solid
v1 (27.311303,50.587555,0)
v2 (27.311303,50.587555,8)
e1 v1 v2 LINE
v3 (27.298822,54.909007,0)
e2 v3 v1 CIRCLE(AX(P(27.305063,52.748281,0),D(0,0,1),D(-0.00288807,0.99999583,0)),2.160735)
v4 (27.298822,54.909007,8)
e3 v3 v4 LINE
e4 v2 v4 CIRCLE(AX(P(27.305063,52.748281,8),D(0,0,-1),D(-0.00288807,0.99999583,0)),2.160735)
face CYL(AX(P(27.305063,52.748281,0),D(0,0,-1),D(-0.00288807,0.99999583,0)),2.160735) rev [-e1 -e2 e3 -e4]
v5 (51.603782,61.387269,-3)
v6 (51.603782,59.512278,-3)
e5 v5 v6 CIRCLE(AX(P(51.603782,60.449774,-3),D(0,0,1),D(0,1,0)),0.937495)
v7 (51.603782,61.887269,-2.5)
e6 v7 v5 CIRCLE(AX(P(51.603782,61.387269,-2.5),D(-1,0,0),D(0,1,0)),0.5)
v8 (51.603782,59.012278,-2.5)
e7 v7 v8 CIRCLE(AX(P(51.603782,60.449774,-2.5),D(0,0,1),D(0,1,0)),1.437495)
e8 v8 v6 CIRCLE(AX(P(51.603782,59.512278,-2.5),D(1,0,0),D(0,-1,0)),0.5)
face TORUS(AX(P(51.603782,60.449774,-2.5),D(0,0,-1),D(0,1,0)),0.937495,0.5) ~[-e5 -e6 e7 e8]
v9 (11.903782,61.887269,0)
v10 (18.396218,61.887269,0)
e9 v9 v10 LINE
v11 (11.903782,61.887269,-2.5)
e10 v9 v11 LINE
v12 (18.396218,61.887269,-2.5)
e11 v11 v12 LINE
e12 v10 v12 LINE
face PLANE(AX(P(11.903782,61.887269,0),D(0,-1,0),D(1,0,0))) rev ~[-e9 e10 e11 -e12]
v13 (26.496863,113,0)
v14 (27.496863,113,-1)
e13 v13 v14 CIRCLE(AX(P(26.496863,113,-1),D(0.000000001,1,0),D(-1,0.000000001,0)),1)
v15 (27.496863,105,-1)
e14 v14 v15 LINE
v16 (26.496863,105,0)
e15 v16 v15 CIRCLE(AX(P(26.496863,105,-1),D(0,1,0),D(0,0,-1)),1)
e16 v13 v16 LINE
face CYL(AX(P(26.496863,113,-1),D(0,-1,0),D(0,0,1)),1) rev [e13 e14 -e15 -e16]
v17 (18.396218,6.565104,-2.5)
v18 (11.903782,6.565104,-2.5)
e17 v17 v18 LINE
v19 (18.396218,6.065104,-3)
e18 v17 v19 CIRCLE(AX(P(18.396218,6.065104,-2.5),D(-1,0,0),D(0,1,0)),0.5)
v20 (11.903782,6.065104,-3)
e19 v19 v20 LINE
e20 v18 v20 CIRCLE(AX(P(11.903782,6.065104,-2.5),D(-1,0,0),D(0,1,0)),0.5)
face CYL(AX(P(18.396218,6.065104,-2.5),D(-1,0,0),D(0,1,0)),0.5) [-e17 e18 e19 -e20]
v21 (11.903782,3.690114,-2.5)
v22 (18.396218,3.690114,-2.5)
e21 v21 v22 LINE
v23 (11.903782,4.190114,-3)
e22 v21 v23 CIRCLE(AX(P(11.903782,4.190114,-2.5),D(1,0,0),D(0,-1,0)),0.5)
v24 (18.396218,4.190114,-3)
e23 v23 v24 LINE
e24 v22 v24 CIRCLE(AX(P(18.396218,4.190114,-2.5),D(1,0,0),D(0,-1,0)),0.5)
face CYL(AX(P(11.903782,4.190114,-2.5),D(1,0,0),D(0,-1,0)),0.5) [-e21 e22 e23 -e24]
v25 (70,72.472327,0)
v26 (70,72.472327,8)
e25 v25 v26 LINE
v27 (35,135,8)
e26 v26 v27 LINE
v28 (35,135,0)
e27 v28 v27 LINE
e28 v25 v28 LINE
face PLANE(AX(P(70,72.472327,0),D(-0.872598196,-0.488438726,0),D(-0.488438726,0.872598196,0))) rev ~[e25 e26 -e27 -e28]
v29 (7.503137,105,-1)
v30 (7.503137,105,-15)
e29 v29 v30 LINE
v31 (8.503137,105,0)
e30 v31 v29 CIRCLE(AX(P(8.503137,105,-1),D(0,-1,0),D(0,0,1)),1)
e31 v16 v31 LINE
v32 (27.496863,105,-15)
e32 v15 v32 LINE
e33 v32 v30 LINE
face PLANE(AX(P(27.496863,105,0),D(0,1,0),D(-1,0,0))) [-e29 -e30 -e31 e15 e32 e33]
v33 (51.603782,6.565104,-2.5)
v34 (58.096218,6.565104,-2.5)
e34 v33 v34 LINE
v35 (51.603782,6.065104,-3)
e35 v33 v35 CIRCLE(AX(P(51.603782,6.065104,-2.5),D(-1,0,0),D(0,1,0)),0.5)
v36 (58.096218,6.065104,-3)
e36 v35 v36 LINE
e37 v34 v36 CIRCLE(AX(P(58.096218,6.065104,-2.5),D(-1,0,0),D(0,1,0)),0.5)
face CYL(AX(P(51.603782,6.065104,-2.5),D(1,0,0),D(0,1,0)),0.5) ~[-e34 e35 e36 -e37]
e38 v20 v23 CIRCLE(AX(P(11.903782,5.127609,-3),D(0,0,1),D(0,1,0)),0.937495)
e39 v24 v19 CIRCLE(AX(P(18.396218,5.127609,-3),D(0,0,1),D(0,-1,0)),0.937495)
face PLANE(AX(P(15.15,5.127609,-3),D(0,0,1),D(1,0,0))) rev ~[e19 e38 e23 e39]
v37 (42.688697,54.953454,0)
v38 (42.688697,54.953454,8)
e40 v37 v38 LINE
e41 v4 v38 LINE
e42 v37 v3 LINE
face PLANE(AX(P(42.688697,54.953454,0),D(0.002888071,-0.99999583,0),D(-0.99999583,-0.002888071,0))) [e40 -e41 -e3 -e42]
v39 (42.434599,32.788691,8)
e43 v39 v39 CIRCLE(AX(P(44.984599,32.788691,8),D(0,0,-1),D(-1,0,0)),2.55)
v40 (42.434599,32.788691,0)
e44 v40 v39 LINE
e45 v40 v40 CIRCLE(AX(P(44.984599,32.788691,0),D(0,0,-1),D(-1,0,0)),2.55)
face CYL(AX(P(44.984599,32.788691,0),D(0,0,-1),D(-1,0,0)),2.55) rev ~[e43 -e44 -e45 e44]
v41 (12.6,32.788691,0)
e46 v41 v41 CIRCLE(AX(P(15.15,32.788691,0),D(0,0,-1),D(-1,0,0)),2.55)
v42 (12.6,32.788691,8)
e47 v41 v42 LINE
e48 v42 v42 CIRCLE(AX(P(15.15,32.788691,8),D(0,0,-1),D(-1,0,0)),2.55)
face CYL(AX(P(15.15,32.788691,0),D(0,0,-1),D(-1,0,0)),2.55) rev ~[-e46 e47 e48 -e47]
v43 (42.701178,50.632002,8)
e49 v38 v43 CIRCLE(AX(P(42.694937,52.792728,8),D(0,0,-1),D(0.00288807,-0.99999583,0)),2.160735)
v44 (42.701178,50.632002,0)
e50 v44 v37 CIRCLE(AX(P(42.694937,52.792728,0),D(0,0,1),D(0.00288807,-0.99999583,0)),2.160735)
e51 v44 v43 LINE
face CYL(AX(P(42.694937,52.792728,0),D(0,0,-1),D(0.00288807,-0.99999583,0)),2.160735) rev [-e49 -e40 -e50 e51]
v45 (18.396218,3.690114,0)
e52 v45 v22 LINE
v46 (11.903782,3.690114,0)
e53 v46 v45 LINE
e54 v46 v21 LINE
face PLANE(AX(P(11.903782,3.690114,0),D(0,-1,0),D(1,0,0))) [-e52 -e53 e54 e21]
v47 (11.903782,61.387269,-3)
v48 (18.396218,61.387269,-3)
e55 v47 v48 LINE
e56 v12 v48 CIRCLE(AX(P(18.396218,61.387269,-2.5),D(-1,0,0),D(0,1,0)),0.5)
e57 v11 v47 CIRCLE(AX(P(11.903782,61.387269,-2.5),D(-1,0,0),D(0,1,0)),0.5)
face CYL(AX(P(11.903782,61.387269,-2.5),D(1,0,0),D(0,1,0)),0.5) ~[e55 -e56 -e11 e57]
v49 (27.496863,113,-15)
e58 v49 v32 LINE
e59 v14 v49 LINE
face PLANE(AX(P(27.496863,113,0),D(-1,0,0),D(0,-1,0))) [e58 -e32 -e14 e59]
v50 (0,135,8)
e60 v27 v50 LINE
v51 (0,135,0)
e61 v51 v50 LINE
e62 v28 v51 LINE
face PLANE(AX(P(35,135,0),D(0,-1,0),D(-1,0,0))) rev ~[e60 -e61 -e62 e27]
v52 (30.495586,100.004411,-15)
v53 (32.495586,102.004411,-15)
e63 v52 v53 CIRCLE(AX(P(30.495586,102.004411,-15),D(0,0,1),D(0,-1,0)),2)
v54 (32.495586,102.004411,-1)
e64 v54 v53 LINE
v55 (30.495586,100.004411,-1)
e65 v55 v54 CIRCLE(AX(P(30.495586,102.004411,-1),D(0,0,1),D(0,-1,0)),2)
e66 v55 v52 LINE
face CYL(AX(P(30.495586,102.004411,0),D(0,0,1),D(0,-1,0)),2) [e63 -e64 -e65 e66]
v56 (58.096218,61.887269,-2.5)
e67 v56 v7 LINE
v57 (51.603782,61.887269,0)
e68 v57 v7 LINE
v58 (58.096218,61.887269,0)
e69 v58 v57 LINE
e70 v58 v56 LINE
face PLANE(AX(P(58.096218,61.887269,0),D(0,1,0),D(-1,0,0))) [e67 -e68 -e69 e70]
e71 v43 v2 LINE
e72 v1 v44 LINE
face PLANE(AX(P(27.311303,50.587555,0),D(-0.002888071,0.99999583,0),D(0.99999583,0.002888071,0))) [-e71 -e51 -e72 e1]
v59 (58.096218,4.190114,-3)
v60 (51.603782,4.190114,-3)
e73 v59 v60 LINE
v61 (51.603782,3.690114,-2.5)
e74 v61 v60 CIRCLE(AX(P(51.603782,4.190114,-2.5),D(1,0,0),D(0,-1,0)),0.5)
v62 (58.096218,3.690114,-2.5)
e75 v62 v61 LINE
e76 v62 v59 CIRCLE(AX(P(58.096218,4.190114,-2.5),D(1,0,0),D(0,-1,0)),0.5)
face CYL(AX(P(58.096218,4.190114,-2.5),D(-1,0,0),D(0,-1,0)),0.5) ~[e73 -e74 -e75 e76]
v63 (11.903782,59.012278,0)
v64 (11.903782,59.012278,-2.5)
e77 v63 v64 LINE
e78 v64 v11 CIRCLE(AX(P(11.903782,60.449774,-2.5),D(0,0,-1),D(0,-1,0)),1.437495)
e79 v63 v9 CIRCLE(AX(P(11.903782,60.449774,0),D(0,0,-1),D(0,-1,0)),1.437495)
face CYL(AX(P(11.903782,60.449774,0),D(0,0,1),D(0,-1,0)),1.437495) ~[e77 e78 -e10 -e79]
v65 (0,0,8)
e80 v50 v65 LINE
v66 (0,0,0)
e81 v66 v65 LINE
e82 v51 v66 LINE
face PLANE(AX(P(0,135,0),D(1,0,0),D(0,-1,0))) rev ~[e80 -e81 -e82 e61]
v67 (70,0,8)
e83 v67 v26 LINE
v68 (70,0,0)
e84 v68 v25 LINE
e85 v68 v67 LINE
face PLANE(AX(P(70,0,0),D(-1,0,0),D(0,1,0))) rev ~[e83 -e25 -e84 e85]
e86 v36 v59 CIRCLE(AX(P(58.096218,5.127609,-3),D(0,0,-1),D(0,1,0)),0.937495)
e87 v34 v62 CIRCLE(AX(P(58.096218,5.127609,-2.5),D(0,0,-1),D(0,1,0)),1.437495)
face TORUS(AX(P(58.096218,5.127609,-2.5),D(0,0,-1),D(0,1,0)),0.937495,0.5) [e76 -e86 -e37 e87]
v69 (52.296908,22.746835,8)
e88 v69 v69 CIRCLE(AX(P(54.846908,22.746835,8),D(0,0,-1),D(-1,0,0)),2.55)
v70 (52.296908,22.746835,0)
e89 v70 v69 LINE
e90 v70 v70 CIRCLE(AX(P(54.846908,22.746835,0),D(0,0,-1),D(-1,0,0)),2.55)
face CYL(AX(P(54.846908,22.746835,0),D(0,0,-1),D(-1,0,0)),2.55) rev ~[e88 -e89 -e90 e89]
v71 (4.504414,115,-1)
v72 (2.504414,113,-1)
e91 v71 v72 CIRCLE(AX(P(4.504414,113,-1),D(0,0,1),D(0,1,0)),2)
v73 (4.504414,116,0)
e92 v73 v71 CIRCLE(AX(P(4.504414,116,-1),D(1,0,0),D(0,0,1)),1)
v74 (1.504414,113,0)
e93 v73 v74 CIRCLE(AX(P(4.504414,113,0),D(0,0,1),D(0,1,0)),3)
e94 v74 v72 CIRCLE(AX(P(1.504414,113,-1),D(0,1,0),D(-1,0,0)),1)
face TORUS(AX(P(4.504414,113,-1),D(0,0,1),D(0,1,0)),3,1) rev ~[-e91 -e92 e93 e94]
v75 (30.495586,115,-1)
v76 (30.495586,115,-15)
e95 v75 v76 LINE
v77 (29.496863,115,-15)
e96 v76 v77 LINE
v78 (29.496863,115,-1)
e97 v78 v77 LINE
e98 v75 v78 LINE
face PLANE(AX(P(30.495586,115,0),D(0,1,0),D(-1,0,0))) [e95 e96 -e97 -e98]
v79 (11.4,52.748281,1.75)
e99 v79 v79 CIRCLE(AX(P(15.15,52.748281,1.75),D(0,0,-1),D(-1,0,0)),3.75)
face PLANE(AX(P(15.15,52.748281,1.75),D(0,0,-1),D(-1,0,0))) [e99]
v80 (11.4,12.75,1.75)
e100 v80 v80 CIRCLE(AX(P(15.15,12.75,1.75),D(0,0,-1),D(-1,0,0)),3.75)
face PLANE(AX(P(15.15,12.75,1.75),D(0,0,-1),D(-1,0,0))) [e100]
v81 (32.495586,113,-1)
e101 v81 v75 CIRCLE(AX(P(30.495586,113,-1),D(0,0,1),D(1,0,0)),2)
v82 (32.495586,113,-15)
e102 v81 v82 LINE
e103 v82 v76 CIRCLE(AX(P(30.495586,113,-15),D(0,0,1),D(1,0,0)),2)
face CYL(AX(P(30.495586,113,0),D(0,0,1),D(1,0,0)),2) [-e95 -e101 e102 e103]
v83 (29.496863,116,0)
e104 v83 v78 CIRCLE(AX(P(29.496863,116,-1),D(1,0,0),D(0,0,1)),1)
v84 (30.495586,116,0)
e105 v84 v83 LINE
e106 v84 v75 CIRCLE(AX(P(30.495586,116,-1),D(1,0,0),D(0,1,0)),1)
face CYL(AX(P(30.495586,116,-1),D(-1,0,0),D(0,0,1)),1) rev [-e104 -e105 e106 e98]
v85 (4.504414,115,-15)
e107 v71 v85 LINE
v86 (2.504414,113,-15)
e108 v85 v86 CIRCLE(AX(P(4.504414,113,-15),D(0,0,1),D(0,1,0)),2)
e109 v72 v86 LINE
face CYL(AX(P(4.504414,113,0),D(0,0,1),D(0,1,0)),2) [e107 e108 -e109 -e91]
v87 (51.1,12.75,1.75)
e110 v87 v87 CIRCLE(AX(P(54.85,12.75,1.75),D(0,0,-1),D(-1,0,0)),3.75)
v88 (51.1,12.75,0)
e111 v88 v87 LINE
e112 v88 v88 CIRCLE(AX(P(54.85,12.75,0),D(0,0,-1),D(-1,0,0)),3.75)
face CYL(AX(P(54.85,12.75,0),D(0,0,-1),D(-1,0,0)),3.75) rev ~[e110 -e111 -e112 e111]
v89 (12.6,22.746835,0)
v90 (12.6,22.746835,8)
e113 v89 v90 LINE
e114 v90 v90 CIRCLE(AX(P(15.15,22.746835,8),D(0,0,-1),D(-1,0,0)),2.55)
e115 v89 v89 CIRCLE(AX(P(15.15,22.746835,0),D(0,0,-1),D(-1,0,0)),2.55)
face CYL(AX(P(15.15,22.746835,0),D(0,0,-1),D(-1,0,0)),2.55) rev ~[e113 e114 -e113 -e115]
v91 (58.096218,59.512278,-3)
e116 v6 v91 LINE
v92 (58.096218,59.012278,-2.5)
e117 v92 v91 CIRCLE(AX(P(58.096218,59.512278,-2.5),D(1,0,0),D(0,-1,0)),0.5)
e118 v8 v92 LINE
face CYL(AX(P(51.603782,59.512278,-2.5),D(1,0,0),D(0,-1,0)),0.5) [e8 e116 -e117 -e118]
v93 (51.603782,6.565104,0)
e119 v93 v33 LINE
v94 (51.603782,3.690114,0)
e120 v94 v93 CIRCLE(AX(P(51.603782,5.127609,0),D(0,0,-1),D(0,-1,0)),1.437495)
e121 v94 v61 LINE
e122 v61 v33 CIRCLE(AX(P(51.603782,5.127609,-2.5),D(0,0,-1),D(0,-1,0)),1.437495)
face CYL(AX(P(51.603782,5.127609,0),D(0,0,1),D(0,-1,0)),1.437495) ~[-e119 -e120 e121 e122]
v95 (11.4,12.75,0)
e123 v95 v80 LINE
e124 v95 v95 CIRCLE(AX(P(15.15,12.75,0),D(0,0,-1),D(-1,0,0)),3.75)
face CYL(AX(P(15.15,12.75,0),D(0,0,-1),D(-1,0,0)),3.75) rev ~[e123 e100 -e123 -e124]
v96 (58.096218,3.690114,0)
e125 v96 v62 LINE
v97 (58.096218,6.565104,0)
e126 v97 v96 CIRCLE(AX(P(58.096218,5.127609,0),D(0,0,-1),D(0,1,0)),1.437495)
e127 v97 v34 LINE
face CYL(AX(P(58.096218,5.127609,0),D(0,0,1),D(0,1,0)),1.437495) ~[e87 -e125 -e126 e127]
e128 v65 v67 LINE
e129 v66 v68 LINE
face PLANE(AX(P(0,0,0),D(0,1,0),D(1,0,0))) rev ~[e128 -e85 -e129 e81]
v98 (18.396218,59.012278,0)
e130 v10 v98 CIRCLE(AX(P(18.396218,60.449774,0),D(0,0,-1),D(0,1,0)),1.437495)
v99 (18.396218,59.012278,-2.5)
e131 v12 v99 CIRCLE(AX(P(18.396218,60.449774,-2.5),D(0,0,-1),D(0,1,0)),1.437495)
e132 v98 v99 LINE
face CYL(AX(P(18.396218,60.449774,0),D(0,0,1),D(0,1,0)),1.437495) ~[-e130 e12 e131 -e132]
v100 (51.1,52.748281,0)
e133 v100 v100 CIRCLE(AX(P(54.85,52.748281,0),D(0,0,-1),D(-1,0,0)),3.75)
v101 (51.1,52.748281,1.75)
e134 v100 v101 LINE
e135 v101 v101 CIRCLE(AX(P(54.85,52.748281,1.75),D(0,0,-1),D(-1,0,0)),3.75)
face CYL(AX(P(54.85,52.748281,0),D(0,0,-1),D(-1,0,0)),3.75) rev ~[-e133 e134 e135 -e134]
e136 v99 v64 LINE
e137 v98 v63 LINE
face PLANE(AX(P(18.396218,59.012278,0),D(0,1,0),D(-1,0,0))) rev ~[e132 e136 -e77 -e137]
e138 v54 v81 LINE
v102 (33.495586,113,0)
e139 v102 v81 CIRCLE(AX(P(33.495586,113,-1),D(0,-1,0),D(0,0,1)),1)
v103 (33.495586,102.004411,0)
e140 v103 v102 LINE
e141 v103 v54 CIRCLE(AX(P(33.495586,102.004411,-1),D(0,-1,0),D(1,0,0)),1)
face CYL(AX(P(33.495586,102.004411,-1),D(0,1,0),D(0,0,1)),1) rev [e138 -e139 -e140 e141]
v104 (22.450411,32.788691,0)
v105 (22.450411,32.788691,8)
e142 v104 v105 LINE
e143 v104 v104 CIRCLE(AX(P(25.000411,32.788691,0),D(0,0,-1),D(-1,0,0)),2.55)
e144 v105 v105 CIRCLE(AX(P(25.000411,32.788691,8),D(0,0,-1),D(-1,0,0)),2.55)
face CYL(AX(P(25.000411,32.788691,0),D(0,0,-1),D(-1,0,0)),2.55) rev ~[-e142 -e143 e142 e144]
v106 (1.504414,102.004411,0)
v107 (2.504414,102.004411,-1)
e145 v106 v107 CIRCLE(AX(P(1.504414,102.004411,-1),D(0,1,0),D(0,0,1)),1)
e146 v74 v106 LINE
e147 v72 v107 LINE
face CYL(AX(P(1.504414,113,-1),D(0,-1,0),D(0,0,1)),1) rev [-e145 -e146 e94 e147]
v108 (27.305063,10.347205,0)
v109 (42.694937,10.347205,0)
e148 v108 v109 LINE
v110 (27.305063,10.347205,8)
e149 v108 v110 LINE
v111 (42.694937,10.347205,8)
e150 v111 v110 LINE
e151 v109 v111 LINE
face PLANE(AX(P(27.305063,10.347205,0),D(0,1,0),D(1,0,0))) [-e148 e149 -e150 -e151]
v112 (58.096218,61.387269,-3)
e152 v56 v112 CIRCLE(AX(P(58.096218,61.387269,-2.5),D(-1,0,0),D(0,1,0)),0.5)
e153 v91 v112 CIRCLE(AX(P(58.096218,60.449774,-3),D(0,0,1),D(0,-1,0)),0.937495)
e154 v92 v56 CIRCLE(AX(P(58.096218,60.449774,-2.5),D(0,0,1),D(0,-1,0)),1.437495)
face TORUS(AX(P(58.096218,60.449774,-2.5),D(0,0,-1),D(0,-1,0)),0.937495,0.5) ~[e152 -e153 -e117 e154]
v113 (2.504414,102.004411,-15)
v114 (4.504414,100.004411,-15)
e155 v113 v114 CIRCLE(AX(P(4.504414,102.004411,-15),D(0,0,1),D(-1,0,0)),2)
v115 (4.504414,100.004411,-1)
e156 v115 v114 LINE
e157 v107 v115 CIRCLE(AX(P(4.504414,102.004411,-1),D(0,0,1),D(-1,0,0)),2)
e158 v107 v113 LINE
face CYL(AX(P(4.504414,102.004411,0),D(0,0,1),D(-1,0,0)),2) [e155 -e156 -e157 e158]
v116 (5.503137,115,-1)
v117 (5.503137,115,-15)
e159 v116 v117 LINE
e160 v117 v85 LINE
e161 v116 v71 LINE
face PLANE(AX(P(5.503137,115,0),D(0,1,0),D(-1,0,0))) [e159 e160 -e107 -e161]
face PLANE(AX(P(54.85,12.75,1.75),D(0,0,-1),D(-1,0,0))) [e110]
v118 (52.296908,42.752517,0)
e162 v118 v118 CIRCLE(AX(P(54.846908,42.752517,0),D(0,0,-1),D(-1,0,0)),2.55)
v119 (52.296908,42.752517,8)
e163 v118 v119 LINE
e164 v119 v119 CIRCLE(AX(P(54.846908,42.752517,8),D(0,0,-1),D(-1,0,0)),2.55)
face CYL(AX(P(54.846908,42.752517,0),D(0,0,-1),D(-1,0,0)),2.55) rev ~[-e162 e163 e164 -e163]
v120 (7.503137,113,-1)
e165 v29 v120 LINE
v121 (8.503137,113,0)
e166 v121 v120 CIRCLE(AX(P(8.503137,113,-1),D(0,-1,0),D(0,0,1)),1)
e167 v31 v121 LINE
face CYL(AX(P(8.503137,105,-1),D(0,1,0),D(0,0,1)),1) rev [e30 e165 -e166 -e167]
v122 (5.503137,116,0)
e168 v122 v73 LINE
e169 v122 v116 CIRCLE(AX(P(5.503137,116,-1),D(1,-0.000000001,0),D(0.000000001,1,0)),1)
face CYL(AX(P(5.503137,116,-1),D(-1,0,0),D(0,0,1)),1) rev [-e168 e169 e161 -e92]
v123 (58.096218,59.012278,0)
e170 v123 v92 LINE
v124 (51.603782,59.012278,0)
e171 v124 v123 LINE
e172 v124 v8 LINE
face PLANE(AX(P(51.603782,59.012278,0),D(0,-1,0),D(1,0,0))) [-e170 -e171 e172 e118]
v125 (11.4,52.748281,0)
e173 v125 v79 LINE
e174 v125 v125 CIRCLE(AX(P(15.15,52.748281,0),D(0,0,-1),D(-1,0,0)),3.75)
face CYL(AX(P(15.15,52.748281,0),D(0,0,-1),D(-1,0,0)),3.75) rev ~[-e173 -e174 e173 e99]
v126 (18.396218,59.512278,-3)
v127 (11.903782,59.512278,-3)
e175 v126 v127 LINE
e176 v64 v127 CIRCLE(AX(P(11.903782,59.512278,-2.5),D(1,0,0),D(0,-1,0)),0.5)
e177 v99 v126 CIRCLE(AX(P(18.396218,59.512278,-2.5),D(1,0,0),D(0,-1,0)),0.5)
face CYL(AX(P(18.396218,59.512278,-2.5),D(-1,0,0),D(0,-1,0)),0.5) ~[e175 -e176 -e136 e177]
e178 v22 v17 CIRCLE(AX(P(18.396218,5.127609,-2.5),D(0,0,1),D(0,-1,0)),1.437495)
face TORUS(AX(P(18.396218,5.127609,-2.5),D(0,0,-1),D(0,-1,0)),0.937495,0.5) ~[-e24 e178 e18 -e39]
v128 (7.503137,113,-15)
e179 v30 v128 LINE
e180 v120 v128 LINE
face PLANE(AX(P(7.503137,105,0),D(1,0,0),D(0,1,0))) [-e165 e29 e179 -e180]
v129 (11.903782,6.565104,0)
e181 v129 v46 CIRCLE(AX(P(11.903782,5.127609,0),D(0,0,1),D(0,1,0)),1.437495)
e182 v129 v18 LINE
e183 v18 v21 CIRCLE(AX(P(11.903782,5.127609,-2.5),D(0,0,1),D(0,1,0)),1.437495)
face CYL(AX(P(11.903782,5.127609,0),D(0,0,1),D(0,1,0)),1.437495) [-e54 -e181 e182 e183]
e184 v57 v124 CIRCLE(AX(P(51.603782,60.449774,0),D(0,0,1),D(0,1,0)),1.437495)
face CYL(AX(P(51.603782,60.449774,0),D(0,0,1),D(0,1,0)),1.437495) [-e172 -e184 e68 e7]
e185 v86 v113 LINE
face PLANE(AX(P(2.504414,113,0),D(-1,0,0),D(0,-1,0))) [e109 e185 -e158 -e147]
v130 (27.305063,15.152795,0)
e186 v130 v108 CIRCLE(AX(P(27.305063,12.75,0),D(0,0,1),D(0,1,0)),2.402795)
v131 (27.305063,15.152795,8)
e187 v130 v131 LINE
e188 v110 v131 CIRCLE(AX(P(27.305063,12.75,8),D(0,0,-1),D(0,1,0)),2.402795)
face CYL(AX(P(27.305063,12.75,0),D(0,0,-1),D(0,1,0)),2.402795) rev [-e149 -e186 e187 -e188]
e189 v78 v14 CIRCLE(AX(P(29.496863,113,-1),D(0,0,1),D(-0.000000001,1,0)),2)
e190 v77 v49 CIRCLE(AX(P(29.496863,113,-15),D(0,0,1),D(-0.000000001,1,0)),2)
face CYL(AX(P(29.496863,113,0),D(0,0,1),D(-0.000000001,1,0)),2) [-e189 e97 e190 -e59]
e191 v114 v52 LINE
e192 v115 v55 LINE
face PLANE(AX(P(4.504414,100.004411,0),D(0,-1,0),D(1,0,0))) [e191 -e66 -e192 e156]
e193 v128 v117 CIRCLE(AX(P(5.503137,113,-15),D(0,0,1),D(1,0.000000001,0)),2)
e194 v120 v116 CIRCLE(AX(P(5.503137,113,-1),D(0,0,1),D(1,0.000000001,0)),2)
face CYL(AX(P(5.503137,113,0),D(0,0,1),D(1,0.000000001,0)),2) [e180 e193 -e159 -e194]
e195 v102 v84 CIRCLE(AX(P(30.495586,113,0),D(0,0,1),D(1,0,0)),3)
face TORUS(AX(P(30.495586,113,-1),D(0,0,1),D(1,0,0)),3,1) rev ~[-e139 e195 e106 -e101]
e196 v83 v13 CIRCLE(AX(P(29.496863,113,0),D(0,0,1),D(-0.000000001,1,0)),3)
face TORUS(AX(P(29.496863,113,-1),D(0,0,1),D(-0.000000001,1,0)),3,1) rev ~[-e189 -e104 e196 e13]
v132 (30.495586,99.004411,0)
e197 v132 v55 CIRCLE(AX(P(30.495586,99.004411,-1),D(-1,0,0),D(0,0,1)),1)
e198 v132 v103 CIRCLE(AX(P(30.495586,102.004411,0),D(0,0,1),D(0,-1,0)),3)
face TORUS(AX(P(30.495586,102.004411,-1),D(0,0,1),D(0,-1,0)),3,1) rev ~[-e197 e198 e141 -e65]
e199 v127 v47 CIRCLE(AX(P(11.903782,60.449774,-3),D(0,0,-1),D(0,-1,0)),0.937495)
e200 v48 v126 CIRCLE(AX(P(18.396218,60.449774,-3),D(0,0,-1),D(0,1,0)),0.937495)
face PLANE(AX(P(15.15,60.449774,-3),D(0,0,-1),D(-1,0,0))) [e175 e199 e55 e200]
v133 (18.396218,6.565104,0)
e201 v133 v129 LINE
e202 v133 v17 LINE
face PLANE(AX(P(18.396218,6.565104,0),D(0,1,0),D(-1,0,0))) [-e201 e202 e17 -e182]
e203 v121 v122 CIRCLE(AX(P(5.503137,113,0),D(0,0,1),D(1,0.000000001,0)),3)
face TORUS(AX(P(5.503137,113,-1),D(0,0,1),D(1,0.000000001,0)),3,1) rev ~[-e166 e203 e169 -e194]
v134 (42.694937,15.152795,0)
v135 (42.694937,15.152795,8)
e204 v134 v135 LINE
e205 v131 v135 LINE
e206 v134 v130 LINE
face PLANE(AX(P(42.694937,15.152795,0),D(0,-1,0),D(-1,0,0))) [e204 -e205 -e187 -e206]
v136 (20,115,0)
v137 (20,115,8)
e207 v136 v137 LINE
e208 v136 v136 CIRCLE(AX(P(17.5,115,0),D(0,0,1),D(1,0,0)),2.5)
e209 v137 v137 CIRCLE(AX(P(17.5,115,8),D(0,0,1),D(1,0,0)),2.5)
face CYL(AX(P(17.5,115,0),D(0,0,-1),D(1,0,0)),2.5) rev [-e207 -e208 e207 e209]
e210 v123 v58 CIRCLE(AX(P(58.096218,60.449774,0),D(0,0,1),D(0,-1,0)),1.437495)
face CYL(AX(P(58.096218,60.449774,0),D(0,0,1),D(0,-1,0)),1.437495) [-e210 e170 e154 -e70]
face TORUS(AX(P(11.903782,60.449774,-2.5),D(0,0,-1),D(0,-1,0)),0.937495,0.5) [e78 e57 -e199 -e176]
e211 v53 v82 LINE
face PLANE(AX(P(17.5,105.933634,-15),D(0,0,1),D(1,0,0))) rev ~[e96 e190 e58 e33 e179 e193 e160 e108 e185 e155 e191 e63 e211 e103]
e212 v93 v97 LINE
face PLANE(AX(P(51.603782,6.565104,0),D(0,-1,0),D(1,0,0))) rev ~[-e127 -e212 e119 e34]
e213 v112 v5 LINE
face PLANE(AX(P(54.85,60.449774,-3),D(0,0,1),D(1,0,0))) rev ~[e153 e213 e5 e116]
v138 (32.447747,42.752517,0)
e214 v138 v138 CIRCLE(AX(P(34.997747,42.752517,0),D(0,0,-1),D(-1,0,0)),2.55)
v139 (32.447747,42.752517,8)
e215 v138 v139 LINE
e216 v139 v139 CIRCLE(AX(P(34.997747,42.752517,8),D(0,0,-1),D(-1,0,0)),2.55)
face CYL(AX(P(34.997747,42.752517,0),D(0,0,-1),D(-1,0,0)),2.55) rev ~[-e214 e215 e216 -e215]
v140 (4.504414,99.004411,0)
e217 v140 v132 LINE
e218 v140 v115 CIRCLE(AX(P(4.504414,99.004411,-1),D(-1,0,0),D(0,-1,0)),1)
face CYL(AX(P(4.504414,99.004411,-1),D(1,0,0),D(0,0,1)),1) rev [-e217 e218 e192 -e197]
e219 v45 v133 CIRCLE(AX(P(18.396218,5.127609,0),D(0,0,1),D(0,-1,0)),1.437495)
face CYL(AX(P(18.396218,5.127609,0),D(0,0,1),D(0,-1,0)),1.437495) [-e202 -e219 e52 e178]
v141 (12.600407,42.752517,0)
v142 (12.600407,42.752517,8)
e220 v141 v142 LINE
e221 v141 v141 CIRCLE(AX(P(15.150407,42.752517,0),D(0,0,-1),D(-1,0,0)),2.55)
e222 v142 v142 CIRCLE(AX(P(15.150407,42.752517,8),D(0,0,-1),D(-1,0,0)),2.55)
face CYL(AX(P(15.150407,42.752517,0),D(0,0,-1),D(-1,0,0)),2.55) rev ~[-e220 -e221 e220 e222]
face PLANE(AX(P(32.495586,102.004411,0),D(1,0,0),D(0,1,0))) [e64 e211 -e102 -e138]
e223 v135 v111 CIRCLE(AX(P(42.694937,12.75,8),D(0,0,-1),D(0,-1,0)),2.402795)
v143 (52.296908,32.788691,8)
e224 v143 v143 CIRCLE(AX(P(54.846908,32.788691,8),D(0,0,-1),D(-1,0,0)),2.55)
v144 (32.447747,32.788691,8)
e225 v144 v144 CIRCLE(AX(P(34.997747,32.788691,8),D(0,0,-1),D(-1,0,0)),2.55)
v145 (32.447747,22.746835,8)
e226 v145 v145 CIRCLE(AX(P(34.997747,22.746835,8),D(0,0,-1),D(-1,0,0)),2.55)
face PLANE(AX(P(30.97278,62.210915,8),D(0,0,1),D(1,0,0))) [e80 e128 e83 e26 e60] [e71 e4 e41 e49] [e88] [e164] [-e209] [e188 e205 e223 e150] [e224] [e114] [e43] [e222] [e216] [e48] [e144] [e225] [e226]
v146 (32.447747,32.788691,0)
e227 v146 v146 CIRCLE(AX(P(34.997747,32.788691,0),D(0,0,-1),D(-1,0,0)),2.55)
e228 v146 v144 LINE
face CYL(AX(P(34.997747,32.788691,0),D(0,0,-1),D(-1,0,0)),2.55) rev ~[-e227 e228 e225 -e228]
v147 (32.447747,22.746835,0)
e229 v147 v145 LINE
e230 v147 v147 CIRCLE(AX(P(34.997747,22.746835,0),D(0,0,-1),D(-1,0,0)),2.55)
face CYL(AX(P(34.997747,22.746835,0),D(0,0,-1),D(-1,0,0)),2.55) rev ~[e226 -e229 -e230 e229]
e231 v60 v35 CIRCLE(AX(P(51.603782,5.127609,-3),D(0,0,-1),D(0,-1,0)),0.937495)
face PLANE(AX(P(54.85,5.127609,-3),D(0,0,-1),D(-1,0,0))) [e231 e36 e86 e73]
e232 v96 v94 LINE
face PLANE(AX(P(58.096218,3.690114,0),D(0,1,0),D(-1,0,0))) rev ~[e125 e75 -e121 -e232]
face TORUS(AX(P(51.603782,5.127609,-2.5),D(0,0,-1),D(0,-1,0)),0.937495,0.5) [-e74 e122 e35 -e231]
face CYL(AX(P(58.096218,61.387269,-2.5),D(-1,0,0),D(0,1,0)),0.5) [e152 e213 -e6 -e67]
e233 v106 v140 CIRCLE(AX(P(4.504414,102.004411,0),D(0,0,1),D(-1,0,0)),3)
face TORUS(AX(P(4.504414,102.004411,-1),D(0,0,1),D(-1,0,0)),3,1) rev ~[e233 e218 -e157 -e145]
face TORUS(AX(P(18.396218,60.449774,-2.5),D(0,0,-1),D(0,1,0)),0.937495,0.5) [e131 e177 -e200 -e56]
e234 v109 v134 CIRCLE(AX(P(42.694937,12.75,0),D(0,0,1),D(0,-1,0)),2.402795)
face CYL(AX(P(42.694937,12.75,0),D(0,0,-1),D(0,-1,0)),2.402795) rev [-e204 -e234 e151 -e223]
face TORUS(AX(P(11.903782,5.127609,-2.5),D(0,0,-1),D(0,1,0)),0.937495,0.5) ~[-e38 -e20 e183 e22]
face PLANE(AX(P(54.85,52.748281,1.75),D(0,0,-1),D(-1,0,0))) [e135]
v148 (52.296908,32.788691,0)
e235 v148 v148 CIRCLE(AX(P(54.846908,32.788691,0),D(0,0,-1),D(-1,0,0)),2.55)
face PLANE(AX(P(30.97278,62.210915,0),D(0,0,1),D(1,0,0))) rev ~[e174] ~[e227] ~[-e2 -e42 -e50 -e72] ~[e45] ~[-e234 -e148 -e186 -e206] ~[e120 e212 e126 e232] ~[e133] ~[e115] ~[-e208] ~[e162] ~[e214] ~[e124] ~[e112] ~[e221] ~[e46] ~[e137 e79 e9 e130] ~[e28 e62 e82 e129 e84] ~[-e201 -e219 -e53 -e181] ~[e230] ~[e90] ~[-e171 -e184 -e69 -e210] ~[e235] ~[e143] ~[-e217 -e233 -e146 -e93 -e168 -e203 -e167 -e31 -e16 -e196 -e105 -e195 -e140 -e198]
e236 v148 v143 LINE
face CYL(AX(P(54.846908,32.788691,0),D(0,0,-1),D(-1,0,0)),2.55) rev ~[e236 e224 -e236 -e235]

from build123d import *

# Parameters (mm, degrees)
ESQUISSE1_R             = 2.5
BOSS_EXTRU_1_DEPTH      = 8
BOSS_EXTRU_3_DEPTH      = 15
CONG_1_R                = 1
ESQUISSE5_R             = 3.75
ENL_V_MAT_EXTRU_1_DEPTH = 1.75
ESQUISSE6_R             = 2.55
ENL_V_MAT_EXTRU_2_DEPTH = 153.807067899
ENL_V_MAT_EXTRU_3_DEPTH = 153.807067899
BOSS_EXTRU_4_DEPTH      = 3
CONG_2_R                = 0.5


with BuildPart() as part:
    # Esquisse1 → Boss.-Extru.1 (new body)
    with BuildSketch(Plane.XY):
        Polygon((0, 0), (70, 0), (70, 72.472327189), (35, 135), (0, 135), align=None)
        with Locations((17.5, 115)):
            Circle(ESQUISSE1_R, mode=Mode.SUBTRACT)
    extrude(amount=BOSS_EXTRU_1_DEPTH)

    # Esquisse4 → Boss.-Extru.3 (add)
    with BuildSketch(Plane(origin=(0, 0, 0), x_dir=(-1, 0, 0), z_dir=(0, 0, -1))):
        with BuildLine():
            Line((-27.49686293, 105), (-7.50313707, 105))
            Line((-7.50313707, 105), (-7.50313707, 113))
            ThreePointArc((-7.50313707, 113), (-6.917350632, 114.414213562), (-5.50313707, 115))
            Line((-5.50313707, 115), (-4.504414059, 115))
            ThreePointArc((-4.504414059, 115), (-3.090200496, 114.414213562), (-2.504414059, 113))
            Line((-2.504414059, 113), (-2.504414059, 102.004411464))
            ThreePointArc((-2.504414059, 102.004411464), (-3.090200496, 100.590197902), (-4.504414059, 100.004411464))
            Line((-4.504414059, 100.004411464), (-30.495585941, 100.004411464))
            ThreePointArc((-30.495585941, 100.004411464), (-31.909799504, 100.590197902), (-32.495585941, 102.004411464))
            Line((-32.495585941, 102.004411464), (-32.495585941, 113))
            ThreePointArc((-32.495585941, 113), (-31.909799504, 114.414213562), (-30.495585941, 115))
            Line((-30.495585941, 115), (-29.49686293, 115))
            ThreePointArc((-29.49686293, 115), (-28.082649368, 114.414213562), (-27.49686293, 113))
            Line((-27.49686293, 113), (-27.49686293, 105))
        make_face()
    extrude(amount=BOSS_EXTRU_3_DEPTH)

    # Congé1
    cong_1_edges = [part.edges().sort_by_distance(p)[0] for p in [
        (7.50313707, 109, 0),
        (27.49686293, 109, 0),
        (28.082649368, 114.414213562, 0),
        (29.996224436, 115, 0),
        (31.909799504, 114.414213562, 0),
        (32.495585941, 107.502205732, 0),
        (31.909799504, 100.590197902, 0),
        (17.5, 100.004411464, 0),
        (3.090200496, 100.590197902, 0),
        (2.504414059, 107.502205732, 0),
        (3.090200496, 114.414213562, 0),
        (5.003775564, 115, 0),
        (6.917350632, 114.414213562, 0),
    ]]
    fillet(cong_1_edges, radius=CONG_1_R)

    # Esquisse5 → Enlèv. mat.-Extru.1 (cut)
    with BuildSketch(Plane(origin=(0, 0, 0), x_dir=(-1, 0, 0), z_dir=(0, 0, -1))):
        with Locations((-54.85, 52.748281044)):
            Circle(ESQUISSE5_R)
        with Locations((-15.15, 52.748281044)):
            Circle(ESQUISSE5_R)
        with Locations((-54.85, 12.75)):
            Circle(ESQUISSE5_R)
        with Locations((-15.15, 12.75)):
            Circle(ESQUISSE5_R)
    extrude(amount=-ENL_V_MAT_EXTRU_1_DEPTH, mode=Mode.SUBTRACT)

    # Esquisse6 → Enlèv. mat.-Extru.2 (cut, through all)
    with BuildSketch(Plane(origin=(0, 0, 0), x_dir=(-1, 0, 0), z_dir=(0, 0, -1))):
        with Locations((-54.846908299, 42.752516513)):
            Circle(ESQUISSE6_R)
        with Locations((-34.997746817, 42.752516513)):
            Circle(ESQUISSE6_R)
        with Locations((-54.846908299, 32.788691402)):
            Circle(ESQUISSE6_R)
        with Locations((-44.984599054, 32.788691402)):
            Circle(ESQUISSE6_R)
        with Locations((-34.997746817, 32.788691402)):
            Circle(ESQUISSE6_R)
        with Locations((-25.000410905, 32.788691402)):
            Circle(ESQUISSE6_R)
        with Locations((-15.150407315, 42.752516513)):
            Circle(ESQUISSE6_R)
        with Locations((-15.15, 32.788691402)):
            Circle(ESQUISSE6_R)
        with Locations((-15.15, 22.746834884)):
            Circle(ESQUISSE6_R)
        with Locations((-34.997746817, 22.746834884)):
            Circle(ESQUISSE6_R)
        with Locations((-54.846908299, 22.746834884)):
            Circle(ESQUISSE6_R)
    extrude(amount=-ENL_V_MAT_EXTRU_2_DEPTH, mode=Mode.SUBTRACT)

    # Esquisse7 → Enlèv. mat.-Extru.3 (cut, through all)
    with BuildSketch(Plane(origin=(0, 0, 0), x_dir=(-1, 0, 0), z_dir=(0, 0, -1))):
        with BuildLine():
            Line((-42.688697109, 54.953454119), (-27.29882218, 54.909006883))
            ThreePointArc((-27.29882218, 54.909006883), (-25.144336695, 52.742040688), (-27.311302891, 50.587555204))
            Line((-27.311302891, 50.587555204), (-42.70117782, 50.63200244))
            ThreePointArc((-42.70117782, 50.63200244), (-44.855663305, 52.798968635), (-42.688697109, 54.953454119))
        make_face()
        with BuildLine():
            Line((-42.694937465, 15.15279537), (-27.305062535, 15.15279537))
            ThreePointArc((-27.305062535, 15.15279537), (-24.902267165, 12.75), (-27.305062535, 10.34720463))
            Line((-27.305062535, 10.34720463), (-42.694937465, 10.34720463))
            ThreePointArc((-42.694937465, 10.34720463), (-45.097732835, 12.75), (-42.694937465, 15.15279537))
        make_face()
    extrude(amount=-ENL_V_MAT_EXTRU_3_DEPTH, mode=Mode.SUBTRACT)

    # Esquisse8 → Boss.-Extru.4 (add)
    with BuildSketch(Plane(origin=(0, 0, 0), x_dir=(-1, 0, 0), z_dir=(0, 0, -1))):
        with BuildLine():
            Line((-58.096218294, 61.887268694), (-51.603781706, 61.887268694))
            ThreePointArc((-51.603781706, 61.887268694), (-50.166286551, 60.449773539), (-51.603781706, 59.012278383))
            Line((-51.603781706, 59.012278383), (-58.096218294, 59.012278383))
            ThreePointArc((-58.096218294, 59.012278383), (-59.533713449, 60.449773539), (-58.096218294, 61.887268694))
        make_face()
        with BuildLine():
            Line((-11.903781706, 61.887268694), (-18.396218294, 61.887268694))
            ThreePointArc((-18.396218294, 61.887268694), (-19.833713449, 60.449773539), (-18.396218294, 59.012278383))
            Line((-18.396218294, 59.012278383), (-11.903781706, 59.012278383))
            ThreePointArc((-11.903781706, 59.012278383), (-10.466286551, 60.449773539), (-11.903781706, 61.887268694))
        make_face()
        with BuildLine():
            Line((-58.096218294, 3.690114109), (-51.603781706, 3.690114109))
            ThreePointArc((-51.603781706, 3.690114109), (-50.166286551, 5.127609265), (-51.603781706, 6.56510442))
            Line((-51.603781706, 6.56510442), (-58.096218294, 6.56510442))
            ThreePointArc((-58.096218294, 6.56510442), (-59.533713449, 5.127609265), (-58.096218294, 3.690114109))
        make_face()
        with BuildLine():
            Line((-11.903781706, 3.690114109), (-18.396218294, 3.690114109))
            ThreePointArc((-18.396218294, 3.690114109), (-19.833713449, 5.127609265), (-18.396218294, 6.56510442))
            Line((-18.396218294, 6.56510442), (-11.903781706, 6.56510442))
            ThreePointArc((-11.903781706, 6.56510442), (-10.466286551, 5.127609265), (-11.903781706, 3.690114109))
        make_face()
    extrude(amount=BOSS_EXTRU_4_DEPTH)

    # Congé2
    cong_2_edges = [part.edges().sort_by_distance(p)[0] for p in [
        (59.533713449, 60.449773539, -3),
        (54.85, 59.012278383, -3),
        (50.166286551, 60.449773539, -3),
        (54.85, 61.887268694, -3),
        (10.466286551, 60.449773539, -3),
        (15.15, 61.887268694, -3),
        (19.833713449, 60.449773539, -3),
        (15.15, 59.012278383, -3),
        (59.533713449, 5.127609265, -3),
        (54.85, 3.690114109, -3),
        (50.166286551, 5.127609265, -3),
        (54.85, 6.56510442, -3),
        (10.466286551, 5.127609265, -3),
        (15.15, 6.56510442, -3),
        (19.833713449, 5.127609265, -3),
        (15.15, 3.690114109, -3),
    ]]
    fillet(cong_2_edges, radius=CONG_2_R)


solid = part.part
